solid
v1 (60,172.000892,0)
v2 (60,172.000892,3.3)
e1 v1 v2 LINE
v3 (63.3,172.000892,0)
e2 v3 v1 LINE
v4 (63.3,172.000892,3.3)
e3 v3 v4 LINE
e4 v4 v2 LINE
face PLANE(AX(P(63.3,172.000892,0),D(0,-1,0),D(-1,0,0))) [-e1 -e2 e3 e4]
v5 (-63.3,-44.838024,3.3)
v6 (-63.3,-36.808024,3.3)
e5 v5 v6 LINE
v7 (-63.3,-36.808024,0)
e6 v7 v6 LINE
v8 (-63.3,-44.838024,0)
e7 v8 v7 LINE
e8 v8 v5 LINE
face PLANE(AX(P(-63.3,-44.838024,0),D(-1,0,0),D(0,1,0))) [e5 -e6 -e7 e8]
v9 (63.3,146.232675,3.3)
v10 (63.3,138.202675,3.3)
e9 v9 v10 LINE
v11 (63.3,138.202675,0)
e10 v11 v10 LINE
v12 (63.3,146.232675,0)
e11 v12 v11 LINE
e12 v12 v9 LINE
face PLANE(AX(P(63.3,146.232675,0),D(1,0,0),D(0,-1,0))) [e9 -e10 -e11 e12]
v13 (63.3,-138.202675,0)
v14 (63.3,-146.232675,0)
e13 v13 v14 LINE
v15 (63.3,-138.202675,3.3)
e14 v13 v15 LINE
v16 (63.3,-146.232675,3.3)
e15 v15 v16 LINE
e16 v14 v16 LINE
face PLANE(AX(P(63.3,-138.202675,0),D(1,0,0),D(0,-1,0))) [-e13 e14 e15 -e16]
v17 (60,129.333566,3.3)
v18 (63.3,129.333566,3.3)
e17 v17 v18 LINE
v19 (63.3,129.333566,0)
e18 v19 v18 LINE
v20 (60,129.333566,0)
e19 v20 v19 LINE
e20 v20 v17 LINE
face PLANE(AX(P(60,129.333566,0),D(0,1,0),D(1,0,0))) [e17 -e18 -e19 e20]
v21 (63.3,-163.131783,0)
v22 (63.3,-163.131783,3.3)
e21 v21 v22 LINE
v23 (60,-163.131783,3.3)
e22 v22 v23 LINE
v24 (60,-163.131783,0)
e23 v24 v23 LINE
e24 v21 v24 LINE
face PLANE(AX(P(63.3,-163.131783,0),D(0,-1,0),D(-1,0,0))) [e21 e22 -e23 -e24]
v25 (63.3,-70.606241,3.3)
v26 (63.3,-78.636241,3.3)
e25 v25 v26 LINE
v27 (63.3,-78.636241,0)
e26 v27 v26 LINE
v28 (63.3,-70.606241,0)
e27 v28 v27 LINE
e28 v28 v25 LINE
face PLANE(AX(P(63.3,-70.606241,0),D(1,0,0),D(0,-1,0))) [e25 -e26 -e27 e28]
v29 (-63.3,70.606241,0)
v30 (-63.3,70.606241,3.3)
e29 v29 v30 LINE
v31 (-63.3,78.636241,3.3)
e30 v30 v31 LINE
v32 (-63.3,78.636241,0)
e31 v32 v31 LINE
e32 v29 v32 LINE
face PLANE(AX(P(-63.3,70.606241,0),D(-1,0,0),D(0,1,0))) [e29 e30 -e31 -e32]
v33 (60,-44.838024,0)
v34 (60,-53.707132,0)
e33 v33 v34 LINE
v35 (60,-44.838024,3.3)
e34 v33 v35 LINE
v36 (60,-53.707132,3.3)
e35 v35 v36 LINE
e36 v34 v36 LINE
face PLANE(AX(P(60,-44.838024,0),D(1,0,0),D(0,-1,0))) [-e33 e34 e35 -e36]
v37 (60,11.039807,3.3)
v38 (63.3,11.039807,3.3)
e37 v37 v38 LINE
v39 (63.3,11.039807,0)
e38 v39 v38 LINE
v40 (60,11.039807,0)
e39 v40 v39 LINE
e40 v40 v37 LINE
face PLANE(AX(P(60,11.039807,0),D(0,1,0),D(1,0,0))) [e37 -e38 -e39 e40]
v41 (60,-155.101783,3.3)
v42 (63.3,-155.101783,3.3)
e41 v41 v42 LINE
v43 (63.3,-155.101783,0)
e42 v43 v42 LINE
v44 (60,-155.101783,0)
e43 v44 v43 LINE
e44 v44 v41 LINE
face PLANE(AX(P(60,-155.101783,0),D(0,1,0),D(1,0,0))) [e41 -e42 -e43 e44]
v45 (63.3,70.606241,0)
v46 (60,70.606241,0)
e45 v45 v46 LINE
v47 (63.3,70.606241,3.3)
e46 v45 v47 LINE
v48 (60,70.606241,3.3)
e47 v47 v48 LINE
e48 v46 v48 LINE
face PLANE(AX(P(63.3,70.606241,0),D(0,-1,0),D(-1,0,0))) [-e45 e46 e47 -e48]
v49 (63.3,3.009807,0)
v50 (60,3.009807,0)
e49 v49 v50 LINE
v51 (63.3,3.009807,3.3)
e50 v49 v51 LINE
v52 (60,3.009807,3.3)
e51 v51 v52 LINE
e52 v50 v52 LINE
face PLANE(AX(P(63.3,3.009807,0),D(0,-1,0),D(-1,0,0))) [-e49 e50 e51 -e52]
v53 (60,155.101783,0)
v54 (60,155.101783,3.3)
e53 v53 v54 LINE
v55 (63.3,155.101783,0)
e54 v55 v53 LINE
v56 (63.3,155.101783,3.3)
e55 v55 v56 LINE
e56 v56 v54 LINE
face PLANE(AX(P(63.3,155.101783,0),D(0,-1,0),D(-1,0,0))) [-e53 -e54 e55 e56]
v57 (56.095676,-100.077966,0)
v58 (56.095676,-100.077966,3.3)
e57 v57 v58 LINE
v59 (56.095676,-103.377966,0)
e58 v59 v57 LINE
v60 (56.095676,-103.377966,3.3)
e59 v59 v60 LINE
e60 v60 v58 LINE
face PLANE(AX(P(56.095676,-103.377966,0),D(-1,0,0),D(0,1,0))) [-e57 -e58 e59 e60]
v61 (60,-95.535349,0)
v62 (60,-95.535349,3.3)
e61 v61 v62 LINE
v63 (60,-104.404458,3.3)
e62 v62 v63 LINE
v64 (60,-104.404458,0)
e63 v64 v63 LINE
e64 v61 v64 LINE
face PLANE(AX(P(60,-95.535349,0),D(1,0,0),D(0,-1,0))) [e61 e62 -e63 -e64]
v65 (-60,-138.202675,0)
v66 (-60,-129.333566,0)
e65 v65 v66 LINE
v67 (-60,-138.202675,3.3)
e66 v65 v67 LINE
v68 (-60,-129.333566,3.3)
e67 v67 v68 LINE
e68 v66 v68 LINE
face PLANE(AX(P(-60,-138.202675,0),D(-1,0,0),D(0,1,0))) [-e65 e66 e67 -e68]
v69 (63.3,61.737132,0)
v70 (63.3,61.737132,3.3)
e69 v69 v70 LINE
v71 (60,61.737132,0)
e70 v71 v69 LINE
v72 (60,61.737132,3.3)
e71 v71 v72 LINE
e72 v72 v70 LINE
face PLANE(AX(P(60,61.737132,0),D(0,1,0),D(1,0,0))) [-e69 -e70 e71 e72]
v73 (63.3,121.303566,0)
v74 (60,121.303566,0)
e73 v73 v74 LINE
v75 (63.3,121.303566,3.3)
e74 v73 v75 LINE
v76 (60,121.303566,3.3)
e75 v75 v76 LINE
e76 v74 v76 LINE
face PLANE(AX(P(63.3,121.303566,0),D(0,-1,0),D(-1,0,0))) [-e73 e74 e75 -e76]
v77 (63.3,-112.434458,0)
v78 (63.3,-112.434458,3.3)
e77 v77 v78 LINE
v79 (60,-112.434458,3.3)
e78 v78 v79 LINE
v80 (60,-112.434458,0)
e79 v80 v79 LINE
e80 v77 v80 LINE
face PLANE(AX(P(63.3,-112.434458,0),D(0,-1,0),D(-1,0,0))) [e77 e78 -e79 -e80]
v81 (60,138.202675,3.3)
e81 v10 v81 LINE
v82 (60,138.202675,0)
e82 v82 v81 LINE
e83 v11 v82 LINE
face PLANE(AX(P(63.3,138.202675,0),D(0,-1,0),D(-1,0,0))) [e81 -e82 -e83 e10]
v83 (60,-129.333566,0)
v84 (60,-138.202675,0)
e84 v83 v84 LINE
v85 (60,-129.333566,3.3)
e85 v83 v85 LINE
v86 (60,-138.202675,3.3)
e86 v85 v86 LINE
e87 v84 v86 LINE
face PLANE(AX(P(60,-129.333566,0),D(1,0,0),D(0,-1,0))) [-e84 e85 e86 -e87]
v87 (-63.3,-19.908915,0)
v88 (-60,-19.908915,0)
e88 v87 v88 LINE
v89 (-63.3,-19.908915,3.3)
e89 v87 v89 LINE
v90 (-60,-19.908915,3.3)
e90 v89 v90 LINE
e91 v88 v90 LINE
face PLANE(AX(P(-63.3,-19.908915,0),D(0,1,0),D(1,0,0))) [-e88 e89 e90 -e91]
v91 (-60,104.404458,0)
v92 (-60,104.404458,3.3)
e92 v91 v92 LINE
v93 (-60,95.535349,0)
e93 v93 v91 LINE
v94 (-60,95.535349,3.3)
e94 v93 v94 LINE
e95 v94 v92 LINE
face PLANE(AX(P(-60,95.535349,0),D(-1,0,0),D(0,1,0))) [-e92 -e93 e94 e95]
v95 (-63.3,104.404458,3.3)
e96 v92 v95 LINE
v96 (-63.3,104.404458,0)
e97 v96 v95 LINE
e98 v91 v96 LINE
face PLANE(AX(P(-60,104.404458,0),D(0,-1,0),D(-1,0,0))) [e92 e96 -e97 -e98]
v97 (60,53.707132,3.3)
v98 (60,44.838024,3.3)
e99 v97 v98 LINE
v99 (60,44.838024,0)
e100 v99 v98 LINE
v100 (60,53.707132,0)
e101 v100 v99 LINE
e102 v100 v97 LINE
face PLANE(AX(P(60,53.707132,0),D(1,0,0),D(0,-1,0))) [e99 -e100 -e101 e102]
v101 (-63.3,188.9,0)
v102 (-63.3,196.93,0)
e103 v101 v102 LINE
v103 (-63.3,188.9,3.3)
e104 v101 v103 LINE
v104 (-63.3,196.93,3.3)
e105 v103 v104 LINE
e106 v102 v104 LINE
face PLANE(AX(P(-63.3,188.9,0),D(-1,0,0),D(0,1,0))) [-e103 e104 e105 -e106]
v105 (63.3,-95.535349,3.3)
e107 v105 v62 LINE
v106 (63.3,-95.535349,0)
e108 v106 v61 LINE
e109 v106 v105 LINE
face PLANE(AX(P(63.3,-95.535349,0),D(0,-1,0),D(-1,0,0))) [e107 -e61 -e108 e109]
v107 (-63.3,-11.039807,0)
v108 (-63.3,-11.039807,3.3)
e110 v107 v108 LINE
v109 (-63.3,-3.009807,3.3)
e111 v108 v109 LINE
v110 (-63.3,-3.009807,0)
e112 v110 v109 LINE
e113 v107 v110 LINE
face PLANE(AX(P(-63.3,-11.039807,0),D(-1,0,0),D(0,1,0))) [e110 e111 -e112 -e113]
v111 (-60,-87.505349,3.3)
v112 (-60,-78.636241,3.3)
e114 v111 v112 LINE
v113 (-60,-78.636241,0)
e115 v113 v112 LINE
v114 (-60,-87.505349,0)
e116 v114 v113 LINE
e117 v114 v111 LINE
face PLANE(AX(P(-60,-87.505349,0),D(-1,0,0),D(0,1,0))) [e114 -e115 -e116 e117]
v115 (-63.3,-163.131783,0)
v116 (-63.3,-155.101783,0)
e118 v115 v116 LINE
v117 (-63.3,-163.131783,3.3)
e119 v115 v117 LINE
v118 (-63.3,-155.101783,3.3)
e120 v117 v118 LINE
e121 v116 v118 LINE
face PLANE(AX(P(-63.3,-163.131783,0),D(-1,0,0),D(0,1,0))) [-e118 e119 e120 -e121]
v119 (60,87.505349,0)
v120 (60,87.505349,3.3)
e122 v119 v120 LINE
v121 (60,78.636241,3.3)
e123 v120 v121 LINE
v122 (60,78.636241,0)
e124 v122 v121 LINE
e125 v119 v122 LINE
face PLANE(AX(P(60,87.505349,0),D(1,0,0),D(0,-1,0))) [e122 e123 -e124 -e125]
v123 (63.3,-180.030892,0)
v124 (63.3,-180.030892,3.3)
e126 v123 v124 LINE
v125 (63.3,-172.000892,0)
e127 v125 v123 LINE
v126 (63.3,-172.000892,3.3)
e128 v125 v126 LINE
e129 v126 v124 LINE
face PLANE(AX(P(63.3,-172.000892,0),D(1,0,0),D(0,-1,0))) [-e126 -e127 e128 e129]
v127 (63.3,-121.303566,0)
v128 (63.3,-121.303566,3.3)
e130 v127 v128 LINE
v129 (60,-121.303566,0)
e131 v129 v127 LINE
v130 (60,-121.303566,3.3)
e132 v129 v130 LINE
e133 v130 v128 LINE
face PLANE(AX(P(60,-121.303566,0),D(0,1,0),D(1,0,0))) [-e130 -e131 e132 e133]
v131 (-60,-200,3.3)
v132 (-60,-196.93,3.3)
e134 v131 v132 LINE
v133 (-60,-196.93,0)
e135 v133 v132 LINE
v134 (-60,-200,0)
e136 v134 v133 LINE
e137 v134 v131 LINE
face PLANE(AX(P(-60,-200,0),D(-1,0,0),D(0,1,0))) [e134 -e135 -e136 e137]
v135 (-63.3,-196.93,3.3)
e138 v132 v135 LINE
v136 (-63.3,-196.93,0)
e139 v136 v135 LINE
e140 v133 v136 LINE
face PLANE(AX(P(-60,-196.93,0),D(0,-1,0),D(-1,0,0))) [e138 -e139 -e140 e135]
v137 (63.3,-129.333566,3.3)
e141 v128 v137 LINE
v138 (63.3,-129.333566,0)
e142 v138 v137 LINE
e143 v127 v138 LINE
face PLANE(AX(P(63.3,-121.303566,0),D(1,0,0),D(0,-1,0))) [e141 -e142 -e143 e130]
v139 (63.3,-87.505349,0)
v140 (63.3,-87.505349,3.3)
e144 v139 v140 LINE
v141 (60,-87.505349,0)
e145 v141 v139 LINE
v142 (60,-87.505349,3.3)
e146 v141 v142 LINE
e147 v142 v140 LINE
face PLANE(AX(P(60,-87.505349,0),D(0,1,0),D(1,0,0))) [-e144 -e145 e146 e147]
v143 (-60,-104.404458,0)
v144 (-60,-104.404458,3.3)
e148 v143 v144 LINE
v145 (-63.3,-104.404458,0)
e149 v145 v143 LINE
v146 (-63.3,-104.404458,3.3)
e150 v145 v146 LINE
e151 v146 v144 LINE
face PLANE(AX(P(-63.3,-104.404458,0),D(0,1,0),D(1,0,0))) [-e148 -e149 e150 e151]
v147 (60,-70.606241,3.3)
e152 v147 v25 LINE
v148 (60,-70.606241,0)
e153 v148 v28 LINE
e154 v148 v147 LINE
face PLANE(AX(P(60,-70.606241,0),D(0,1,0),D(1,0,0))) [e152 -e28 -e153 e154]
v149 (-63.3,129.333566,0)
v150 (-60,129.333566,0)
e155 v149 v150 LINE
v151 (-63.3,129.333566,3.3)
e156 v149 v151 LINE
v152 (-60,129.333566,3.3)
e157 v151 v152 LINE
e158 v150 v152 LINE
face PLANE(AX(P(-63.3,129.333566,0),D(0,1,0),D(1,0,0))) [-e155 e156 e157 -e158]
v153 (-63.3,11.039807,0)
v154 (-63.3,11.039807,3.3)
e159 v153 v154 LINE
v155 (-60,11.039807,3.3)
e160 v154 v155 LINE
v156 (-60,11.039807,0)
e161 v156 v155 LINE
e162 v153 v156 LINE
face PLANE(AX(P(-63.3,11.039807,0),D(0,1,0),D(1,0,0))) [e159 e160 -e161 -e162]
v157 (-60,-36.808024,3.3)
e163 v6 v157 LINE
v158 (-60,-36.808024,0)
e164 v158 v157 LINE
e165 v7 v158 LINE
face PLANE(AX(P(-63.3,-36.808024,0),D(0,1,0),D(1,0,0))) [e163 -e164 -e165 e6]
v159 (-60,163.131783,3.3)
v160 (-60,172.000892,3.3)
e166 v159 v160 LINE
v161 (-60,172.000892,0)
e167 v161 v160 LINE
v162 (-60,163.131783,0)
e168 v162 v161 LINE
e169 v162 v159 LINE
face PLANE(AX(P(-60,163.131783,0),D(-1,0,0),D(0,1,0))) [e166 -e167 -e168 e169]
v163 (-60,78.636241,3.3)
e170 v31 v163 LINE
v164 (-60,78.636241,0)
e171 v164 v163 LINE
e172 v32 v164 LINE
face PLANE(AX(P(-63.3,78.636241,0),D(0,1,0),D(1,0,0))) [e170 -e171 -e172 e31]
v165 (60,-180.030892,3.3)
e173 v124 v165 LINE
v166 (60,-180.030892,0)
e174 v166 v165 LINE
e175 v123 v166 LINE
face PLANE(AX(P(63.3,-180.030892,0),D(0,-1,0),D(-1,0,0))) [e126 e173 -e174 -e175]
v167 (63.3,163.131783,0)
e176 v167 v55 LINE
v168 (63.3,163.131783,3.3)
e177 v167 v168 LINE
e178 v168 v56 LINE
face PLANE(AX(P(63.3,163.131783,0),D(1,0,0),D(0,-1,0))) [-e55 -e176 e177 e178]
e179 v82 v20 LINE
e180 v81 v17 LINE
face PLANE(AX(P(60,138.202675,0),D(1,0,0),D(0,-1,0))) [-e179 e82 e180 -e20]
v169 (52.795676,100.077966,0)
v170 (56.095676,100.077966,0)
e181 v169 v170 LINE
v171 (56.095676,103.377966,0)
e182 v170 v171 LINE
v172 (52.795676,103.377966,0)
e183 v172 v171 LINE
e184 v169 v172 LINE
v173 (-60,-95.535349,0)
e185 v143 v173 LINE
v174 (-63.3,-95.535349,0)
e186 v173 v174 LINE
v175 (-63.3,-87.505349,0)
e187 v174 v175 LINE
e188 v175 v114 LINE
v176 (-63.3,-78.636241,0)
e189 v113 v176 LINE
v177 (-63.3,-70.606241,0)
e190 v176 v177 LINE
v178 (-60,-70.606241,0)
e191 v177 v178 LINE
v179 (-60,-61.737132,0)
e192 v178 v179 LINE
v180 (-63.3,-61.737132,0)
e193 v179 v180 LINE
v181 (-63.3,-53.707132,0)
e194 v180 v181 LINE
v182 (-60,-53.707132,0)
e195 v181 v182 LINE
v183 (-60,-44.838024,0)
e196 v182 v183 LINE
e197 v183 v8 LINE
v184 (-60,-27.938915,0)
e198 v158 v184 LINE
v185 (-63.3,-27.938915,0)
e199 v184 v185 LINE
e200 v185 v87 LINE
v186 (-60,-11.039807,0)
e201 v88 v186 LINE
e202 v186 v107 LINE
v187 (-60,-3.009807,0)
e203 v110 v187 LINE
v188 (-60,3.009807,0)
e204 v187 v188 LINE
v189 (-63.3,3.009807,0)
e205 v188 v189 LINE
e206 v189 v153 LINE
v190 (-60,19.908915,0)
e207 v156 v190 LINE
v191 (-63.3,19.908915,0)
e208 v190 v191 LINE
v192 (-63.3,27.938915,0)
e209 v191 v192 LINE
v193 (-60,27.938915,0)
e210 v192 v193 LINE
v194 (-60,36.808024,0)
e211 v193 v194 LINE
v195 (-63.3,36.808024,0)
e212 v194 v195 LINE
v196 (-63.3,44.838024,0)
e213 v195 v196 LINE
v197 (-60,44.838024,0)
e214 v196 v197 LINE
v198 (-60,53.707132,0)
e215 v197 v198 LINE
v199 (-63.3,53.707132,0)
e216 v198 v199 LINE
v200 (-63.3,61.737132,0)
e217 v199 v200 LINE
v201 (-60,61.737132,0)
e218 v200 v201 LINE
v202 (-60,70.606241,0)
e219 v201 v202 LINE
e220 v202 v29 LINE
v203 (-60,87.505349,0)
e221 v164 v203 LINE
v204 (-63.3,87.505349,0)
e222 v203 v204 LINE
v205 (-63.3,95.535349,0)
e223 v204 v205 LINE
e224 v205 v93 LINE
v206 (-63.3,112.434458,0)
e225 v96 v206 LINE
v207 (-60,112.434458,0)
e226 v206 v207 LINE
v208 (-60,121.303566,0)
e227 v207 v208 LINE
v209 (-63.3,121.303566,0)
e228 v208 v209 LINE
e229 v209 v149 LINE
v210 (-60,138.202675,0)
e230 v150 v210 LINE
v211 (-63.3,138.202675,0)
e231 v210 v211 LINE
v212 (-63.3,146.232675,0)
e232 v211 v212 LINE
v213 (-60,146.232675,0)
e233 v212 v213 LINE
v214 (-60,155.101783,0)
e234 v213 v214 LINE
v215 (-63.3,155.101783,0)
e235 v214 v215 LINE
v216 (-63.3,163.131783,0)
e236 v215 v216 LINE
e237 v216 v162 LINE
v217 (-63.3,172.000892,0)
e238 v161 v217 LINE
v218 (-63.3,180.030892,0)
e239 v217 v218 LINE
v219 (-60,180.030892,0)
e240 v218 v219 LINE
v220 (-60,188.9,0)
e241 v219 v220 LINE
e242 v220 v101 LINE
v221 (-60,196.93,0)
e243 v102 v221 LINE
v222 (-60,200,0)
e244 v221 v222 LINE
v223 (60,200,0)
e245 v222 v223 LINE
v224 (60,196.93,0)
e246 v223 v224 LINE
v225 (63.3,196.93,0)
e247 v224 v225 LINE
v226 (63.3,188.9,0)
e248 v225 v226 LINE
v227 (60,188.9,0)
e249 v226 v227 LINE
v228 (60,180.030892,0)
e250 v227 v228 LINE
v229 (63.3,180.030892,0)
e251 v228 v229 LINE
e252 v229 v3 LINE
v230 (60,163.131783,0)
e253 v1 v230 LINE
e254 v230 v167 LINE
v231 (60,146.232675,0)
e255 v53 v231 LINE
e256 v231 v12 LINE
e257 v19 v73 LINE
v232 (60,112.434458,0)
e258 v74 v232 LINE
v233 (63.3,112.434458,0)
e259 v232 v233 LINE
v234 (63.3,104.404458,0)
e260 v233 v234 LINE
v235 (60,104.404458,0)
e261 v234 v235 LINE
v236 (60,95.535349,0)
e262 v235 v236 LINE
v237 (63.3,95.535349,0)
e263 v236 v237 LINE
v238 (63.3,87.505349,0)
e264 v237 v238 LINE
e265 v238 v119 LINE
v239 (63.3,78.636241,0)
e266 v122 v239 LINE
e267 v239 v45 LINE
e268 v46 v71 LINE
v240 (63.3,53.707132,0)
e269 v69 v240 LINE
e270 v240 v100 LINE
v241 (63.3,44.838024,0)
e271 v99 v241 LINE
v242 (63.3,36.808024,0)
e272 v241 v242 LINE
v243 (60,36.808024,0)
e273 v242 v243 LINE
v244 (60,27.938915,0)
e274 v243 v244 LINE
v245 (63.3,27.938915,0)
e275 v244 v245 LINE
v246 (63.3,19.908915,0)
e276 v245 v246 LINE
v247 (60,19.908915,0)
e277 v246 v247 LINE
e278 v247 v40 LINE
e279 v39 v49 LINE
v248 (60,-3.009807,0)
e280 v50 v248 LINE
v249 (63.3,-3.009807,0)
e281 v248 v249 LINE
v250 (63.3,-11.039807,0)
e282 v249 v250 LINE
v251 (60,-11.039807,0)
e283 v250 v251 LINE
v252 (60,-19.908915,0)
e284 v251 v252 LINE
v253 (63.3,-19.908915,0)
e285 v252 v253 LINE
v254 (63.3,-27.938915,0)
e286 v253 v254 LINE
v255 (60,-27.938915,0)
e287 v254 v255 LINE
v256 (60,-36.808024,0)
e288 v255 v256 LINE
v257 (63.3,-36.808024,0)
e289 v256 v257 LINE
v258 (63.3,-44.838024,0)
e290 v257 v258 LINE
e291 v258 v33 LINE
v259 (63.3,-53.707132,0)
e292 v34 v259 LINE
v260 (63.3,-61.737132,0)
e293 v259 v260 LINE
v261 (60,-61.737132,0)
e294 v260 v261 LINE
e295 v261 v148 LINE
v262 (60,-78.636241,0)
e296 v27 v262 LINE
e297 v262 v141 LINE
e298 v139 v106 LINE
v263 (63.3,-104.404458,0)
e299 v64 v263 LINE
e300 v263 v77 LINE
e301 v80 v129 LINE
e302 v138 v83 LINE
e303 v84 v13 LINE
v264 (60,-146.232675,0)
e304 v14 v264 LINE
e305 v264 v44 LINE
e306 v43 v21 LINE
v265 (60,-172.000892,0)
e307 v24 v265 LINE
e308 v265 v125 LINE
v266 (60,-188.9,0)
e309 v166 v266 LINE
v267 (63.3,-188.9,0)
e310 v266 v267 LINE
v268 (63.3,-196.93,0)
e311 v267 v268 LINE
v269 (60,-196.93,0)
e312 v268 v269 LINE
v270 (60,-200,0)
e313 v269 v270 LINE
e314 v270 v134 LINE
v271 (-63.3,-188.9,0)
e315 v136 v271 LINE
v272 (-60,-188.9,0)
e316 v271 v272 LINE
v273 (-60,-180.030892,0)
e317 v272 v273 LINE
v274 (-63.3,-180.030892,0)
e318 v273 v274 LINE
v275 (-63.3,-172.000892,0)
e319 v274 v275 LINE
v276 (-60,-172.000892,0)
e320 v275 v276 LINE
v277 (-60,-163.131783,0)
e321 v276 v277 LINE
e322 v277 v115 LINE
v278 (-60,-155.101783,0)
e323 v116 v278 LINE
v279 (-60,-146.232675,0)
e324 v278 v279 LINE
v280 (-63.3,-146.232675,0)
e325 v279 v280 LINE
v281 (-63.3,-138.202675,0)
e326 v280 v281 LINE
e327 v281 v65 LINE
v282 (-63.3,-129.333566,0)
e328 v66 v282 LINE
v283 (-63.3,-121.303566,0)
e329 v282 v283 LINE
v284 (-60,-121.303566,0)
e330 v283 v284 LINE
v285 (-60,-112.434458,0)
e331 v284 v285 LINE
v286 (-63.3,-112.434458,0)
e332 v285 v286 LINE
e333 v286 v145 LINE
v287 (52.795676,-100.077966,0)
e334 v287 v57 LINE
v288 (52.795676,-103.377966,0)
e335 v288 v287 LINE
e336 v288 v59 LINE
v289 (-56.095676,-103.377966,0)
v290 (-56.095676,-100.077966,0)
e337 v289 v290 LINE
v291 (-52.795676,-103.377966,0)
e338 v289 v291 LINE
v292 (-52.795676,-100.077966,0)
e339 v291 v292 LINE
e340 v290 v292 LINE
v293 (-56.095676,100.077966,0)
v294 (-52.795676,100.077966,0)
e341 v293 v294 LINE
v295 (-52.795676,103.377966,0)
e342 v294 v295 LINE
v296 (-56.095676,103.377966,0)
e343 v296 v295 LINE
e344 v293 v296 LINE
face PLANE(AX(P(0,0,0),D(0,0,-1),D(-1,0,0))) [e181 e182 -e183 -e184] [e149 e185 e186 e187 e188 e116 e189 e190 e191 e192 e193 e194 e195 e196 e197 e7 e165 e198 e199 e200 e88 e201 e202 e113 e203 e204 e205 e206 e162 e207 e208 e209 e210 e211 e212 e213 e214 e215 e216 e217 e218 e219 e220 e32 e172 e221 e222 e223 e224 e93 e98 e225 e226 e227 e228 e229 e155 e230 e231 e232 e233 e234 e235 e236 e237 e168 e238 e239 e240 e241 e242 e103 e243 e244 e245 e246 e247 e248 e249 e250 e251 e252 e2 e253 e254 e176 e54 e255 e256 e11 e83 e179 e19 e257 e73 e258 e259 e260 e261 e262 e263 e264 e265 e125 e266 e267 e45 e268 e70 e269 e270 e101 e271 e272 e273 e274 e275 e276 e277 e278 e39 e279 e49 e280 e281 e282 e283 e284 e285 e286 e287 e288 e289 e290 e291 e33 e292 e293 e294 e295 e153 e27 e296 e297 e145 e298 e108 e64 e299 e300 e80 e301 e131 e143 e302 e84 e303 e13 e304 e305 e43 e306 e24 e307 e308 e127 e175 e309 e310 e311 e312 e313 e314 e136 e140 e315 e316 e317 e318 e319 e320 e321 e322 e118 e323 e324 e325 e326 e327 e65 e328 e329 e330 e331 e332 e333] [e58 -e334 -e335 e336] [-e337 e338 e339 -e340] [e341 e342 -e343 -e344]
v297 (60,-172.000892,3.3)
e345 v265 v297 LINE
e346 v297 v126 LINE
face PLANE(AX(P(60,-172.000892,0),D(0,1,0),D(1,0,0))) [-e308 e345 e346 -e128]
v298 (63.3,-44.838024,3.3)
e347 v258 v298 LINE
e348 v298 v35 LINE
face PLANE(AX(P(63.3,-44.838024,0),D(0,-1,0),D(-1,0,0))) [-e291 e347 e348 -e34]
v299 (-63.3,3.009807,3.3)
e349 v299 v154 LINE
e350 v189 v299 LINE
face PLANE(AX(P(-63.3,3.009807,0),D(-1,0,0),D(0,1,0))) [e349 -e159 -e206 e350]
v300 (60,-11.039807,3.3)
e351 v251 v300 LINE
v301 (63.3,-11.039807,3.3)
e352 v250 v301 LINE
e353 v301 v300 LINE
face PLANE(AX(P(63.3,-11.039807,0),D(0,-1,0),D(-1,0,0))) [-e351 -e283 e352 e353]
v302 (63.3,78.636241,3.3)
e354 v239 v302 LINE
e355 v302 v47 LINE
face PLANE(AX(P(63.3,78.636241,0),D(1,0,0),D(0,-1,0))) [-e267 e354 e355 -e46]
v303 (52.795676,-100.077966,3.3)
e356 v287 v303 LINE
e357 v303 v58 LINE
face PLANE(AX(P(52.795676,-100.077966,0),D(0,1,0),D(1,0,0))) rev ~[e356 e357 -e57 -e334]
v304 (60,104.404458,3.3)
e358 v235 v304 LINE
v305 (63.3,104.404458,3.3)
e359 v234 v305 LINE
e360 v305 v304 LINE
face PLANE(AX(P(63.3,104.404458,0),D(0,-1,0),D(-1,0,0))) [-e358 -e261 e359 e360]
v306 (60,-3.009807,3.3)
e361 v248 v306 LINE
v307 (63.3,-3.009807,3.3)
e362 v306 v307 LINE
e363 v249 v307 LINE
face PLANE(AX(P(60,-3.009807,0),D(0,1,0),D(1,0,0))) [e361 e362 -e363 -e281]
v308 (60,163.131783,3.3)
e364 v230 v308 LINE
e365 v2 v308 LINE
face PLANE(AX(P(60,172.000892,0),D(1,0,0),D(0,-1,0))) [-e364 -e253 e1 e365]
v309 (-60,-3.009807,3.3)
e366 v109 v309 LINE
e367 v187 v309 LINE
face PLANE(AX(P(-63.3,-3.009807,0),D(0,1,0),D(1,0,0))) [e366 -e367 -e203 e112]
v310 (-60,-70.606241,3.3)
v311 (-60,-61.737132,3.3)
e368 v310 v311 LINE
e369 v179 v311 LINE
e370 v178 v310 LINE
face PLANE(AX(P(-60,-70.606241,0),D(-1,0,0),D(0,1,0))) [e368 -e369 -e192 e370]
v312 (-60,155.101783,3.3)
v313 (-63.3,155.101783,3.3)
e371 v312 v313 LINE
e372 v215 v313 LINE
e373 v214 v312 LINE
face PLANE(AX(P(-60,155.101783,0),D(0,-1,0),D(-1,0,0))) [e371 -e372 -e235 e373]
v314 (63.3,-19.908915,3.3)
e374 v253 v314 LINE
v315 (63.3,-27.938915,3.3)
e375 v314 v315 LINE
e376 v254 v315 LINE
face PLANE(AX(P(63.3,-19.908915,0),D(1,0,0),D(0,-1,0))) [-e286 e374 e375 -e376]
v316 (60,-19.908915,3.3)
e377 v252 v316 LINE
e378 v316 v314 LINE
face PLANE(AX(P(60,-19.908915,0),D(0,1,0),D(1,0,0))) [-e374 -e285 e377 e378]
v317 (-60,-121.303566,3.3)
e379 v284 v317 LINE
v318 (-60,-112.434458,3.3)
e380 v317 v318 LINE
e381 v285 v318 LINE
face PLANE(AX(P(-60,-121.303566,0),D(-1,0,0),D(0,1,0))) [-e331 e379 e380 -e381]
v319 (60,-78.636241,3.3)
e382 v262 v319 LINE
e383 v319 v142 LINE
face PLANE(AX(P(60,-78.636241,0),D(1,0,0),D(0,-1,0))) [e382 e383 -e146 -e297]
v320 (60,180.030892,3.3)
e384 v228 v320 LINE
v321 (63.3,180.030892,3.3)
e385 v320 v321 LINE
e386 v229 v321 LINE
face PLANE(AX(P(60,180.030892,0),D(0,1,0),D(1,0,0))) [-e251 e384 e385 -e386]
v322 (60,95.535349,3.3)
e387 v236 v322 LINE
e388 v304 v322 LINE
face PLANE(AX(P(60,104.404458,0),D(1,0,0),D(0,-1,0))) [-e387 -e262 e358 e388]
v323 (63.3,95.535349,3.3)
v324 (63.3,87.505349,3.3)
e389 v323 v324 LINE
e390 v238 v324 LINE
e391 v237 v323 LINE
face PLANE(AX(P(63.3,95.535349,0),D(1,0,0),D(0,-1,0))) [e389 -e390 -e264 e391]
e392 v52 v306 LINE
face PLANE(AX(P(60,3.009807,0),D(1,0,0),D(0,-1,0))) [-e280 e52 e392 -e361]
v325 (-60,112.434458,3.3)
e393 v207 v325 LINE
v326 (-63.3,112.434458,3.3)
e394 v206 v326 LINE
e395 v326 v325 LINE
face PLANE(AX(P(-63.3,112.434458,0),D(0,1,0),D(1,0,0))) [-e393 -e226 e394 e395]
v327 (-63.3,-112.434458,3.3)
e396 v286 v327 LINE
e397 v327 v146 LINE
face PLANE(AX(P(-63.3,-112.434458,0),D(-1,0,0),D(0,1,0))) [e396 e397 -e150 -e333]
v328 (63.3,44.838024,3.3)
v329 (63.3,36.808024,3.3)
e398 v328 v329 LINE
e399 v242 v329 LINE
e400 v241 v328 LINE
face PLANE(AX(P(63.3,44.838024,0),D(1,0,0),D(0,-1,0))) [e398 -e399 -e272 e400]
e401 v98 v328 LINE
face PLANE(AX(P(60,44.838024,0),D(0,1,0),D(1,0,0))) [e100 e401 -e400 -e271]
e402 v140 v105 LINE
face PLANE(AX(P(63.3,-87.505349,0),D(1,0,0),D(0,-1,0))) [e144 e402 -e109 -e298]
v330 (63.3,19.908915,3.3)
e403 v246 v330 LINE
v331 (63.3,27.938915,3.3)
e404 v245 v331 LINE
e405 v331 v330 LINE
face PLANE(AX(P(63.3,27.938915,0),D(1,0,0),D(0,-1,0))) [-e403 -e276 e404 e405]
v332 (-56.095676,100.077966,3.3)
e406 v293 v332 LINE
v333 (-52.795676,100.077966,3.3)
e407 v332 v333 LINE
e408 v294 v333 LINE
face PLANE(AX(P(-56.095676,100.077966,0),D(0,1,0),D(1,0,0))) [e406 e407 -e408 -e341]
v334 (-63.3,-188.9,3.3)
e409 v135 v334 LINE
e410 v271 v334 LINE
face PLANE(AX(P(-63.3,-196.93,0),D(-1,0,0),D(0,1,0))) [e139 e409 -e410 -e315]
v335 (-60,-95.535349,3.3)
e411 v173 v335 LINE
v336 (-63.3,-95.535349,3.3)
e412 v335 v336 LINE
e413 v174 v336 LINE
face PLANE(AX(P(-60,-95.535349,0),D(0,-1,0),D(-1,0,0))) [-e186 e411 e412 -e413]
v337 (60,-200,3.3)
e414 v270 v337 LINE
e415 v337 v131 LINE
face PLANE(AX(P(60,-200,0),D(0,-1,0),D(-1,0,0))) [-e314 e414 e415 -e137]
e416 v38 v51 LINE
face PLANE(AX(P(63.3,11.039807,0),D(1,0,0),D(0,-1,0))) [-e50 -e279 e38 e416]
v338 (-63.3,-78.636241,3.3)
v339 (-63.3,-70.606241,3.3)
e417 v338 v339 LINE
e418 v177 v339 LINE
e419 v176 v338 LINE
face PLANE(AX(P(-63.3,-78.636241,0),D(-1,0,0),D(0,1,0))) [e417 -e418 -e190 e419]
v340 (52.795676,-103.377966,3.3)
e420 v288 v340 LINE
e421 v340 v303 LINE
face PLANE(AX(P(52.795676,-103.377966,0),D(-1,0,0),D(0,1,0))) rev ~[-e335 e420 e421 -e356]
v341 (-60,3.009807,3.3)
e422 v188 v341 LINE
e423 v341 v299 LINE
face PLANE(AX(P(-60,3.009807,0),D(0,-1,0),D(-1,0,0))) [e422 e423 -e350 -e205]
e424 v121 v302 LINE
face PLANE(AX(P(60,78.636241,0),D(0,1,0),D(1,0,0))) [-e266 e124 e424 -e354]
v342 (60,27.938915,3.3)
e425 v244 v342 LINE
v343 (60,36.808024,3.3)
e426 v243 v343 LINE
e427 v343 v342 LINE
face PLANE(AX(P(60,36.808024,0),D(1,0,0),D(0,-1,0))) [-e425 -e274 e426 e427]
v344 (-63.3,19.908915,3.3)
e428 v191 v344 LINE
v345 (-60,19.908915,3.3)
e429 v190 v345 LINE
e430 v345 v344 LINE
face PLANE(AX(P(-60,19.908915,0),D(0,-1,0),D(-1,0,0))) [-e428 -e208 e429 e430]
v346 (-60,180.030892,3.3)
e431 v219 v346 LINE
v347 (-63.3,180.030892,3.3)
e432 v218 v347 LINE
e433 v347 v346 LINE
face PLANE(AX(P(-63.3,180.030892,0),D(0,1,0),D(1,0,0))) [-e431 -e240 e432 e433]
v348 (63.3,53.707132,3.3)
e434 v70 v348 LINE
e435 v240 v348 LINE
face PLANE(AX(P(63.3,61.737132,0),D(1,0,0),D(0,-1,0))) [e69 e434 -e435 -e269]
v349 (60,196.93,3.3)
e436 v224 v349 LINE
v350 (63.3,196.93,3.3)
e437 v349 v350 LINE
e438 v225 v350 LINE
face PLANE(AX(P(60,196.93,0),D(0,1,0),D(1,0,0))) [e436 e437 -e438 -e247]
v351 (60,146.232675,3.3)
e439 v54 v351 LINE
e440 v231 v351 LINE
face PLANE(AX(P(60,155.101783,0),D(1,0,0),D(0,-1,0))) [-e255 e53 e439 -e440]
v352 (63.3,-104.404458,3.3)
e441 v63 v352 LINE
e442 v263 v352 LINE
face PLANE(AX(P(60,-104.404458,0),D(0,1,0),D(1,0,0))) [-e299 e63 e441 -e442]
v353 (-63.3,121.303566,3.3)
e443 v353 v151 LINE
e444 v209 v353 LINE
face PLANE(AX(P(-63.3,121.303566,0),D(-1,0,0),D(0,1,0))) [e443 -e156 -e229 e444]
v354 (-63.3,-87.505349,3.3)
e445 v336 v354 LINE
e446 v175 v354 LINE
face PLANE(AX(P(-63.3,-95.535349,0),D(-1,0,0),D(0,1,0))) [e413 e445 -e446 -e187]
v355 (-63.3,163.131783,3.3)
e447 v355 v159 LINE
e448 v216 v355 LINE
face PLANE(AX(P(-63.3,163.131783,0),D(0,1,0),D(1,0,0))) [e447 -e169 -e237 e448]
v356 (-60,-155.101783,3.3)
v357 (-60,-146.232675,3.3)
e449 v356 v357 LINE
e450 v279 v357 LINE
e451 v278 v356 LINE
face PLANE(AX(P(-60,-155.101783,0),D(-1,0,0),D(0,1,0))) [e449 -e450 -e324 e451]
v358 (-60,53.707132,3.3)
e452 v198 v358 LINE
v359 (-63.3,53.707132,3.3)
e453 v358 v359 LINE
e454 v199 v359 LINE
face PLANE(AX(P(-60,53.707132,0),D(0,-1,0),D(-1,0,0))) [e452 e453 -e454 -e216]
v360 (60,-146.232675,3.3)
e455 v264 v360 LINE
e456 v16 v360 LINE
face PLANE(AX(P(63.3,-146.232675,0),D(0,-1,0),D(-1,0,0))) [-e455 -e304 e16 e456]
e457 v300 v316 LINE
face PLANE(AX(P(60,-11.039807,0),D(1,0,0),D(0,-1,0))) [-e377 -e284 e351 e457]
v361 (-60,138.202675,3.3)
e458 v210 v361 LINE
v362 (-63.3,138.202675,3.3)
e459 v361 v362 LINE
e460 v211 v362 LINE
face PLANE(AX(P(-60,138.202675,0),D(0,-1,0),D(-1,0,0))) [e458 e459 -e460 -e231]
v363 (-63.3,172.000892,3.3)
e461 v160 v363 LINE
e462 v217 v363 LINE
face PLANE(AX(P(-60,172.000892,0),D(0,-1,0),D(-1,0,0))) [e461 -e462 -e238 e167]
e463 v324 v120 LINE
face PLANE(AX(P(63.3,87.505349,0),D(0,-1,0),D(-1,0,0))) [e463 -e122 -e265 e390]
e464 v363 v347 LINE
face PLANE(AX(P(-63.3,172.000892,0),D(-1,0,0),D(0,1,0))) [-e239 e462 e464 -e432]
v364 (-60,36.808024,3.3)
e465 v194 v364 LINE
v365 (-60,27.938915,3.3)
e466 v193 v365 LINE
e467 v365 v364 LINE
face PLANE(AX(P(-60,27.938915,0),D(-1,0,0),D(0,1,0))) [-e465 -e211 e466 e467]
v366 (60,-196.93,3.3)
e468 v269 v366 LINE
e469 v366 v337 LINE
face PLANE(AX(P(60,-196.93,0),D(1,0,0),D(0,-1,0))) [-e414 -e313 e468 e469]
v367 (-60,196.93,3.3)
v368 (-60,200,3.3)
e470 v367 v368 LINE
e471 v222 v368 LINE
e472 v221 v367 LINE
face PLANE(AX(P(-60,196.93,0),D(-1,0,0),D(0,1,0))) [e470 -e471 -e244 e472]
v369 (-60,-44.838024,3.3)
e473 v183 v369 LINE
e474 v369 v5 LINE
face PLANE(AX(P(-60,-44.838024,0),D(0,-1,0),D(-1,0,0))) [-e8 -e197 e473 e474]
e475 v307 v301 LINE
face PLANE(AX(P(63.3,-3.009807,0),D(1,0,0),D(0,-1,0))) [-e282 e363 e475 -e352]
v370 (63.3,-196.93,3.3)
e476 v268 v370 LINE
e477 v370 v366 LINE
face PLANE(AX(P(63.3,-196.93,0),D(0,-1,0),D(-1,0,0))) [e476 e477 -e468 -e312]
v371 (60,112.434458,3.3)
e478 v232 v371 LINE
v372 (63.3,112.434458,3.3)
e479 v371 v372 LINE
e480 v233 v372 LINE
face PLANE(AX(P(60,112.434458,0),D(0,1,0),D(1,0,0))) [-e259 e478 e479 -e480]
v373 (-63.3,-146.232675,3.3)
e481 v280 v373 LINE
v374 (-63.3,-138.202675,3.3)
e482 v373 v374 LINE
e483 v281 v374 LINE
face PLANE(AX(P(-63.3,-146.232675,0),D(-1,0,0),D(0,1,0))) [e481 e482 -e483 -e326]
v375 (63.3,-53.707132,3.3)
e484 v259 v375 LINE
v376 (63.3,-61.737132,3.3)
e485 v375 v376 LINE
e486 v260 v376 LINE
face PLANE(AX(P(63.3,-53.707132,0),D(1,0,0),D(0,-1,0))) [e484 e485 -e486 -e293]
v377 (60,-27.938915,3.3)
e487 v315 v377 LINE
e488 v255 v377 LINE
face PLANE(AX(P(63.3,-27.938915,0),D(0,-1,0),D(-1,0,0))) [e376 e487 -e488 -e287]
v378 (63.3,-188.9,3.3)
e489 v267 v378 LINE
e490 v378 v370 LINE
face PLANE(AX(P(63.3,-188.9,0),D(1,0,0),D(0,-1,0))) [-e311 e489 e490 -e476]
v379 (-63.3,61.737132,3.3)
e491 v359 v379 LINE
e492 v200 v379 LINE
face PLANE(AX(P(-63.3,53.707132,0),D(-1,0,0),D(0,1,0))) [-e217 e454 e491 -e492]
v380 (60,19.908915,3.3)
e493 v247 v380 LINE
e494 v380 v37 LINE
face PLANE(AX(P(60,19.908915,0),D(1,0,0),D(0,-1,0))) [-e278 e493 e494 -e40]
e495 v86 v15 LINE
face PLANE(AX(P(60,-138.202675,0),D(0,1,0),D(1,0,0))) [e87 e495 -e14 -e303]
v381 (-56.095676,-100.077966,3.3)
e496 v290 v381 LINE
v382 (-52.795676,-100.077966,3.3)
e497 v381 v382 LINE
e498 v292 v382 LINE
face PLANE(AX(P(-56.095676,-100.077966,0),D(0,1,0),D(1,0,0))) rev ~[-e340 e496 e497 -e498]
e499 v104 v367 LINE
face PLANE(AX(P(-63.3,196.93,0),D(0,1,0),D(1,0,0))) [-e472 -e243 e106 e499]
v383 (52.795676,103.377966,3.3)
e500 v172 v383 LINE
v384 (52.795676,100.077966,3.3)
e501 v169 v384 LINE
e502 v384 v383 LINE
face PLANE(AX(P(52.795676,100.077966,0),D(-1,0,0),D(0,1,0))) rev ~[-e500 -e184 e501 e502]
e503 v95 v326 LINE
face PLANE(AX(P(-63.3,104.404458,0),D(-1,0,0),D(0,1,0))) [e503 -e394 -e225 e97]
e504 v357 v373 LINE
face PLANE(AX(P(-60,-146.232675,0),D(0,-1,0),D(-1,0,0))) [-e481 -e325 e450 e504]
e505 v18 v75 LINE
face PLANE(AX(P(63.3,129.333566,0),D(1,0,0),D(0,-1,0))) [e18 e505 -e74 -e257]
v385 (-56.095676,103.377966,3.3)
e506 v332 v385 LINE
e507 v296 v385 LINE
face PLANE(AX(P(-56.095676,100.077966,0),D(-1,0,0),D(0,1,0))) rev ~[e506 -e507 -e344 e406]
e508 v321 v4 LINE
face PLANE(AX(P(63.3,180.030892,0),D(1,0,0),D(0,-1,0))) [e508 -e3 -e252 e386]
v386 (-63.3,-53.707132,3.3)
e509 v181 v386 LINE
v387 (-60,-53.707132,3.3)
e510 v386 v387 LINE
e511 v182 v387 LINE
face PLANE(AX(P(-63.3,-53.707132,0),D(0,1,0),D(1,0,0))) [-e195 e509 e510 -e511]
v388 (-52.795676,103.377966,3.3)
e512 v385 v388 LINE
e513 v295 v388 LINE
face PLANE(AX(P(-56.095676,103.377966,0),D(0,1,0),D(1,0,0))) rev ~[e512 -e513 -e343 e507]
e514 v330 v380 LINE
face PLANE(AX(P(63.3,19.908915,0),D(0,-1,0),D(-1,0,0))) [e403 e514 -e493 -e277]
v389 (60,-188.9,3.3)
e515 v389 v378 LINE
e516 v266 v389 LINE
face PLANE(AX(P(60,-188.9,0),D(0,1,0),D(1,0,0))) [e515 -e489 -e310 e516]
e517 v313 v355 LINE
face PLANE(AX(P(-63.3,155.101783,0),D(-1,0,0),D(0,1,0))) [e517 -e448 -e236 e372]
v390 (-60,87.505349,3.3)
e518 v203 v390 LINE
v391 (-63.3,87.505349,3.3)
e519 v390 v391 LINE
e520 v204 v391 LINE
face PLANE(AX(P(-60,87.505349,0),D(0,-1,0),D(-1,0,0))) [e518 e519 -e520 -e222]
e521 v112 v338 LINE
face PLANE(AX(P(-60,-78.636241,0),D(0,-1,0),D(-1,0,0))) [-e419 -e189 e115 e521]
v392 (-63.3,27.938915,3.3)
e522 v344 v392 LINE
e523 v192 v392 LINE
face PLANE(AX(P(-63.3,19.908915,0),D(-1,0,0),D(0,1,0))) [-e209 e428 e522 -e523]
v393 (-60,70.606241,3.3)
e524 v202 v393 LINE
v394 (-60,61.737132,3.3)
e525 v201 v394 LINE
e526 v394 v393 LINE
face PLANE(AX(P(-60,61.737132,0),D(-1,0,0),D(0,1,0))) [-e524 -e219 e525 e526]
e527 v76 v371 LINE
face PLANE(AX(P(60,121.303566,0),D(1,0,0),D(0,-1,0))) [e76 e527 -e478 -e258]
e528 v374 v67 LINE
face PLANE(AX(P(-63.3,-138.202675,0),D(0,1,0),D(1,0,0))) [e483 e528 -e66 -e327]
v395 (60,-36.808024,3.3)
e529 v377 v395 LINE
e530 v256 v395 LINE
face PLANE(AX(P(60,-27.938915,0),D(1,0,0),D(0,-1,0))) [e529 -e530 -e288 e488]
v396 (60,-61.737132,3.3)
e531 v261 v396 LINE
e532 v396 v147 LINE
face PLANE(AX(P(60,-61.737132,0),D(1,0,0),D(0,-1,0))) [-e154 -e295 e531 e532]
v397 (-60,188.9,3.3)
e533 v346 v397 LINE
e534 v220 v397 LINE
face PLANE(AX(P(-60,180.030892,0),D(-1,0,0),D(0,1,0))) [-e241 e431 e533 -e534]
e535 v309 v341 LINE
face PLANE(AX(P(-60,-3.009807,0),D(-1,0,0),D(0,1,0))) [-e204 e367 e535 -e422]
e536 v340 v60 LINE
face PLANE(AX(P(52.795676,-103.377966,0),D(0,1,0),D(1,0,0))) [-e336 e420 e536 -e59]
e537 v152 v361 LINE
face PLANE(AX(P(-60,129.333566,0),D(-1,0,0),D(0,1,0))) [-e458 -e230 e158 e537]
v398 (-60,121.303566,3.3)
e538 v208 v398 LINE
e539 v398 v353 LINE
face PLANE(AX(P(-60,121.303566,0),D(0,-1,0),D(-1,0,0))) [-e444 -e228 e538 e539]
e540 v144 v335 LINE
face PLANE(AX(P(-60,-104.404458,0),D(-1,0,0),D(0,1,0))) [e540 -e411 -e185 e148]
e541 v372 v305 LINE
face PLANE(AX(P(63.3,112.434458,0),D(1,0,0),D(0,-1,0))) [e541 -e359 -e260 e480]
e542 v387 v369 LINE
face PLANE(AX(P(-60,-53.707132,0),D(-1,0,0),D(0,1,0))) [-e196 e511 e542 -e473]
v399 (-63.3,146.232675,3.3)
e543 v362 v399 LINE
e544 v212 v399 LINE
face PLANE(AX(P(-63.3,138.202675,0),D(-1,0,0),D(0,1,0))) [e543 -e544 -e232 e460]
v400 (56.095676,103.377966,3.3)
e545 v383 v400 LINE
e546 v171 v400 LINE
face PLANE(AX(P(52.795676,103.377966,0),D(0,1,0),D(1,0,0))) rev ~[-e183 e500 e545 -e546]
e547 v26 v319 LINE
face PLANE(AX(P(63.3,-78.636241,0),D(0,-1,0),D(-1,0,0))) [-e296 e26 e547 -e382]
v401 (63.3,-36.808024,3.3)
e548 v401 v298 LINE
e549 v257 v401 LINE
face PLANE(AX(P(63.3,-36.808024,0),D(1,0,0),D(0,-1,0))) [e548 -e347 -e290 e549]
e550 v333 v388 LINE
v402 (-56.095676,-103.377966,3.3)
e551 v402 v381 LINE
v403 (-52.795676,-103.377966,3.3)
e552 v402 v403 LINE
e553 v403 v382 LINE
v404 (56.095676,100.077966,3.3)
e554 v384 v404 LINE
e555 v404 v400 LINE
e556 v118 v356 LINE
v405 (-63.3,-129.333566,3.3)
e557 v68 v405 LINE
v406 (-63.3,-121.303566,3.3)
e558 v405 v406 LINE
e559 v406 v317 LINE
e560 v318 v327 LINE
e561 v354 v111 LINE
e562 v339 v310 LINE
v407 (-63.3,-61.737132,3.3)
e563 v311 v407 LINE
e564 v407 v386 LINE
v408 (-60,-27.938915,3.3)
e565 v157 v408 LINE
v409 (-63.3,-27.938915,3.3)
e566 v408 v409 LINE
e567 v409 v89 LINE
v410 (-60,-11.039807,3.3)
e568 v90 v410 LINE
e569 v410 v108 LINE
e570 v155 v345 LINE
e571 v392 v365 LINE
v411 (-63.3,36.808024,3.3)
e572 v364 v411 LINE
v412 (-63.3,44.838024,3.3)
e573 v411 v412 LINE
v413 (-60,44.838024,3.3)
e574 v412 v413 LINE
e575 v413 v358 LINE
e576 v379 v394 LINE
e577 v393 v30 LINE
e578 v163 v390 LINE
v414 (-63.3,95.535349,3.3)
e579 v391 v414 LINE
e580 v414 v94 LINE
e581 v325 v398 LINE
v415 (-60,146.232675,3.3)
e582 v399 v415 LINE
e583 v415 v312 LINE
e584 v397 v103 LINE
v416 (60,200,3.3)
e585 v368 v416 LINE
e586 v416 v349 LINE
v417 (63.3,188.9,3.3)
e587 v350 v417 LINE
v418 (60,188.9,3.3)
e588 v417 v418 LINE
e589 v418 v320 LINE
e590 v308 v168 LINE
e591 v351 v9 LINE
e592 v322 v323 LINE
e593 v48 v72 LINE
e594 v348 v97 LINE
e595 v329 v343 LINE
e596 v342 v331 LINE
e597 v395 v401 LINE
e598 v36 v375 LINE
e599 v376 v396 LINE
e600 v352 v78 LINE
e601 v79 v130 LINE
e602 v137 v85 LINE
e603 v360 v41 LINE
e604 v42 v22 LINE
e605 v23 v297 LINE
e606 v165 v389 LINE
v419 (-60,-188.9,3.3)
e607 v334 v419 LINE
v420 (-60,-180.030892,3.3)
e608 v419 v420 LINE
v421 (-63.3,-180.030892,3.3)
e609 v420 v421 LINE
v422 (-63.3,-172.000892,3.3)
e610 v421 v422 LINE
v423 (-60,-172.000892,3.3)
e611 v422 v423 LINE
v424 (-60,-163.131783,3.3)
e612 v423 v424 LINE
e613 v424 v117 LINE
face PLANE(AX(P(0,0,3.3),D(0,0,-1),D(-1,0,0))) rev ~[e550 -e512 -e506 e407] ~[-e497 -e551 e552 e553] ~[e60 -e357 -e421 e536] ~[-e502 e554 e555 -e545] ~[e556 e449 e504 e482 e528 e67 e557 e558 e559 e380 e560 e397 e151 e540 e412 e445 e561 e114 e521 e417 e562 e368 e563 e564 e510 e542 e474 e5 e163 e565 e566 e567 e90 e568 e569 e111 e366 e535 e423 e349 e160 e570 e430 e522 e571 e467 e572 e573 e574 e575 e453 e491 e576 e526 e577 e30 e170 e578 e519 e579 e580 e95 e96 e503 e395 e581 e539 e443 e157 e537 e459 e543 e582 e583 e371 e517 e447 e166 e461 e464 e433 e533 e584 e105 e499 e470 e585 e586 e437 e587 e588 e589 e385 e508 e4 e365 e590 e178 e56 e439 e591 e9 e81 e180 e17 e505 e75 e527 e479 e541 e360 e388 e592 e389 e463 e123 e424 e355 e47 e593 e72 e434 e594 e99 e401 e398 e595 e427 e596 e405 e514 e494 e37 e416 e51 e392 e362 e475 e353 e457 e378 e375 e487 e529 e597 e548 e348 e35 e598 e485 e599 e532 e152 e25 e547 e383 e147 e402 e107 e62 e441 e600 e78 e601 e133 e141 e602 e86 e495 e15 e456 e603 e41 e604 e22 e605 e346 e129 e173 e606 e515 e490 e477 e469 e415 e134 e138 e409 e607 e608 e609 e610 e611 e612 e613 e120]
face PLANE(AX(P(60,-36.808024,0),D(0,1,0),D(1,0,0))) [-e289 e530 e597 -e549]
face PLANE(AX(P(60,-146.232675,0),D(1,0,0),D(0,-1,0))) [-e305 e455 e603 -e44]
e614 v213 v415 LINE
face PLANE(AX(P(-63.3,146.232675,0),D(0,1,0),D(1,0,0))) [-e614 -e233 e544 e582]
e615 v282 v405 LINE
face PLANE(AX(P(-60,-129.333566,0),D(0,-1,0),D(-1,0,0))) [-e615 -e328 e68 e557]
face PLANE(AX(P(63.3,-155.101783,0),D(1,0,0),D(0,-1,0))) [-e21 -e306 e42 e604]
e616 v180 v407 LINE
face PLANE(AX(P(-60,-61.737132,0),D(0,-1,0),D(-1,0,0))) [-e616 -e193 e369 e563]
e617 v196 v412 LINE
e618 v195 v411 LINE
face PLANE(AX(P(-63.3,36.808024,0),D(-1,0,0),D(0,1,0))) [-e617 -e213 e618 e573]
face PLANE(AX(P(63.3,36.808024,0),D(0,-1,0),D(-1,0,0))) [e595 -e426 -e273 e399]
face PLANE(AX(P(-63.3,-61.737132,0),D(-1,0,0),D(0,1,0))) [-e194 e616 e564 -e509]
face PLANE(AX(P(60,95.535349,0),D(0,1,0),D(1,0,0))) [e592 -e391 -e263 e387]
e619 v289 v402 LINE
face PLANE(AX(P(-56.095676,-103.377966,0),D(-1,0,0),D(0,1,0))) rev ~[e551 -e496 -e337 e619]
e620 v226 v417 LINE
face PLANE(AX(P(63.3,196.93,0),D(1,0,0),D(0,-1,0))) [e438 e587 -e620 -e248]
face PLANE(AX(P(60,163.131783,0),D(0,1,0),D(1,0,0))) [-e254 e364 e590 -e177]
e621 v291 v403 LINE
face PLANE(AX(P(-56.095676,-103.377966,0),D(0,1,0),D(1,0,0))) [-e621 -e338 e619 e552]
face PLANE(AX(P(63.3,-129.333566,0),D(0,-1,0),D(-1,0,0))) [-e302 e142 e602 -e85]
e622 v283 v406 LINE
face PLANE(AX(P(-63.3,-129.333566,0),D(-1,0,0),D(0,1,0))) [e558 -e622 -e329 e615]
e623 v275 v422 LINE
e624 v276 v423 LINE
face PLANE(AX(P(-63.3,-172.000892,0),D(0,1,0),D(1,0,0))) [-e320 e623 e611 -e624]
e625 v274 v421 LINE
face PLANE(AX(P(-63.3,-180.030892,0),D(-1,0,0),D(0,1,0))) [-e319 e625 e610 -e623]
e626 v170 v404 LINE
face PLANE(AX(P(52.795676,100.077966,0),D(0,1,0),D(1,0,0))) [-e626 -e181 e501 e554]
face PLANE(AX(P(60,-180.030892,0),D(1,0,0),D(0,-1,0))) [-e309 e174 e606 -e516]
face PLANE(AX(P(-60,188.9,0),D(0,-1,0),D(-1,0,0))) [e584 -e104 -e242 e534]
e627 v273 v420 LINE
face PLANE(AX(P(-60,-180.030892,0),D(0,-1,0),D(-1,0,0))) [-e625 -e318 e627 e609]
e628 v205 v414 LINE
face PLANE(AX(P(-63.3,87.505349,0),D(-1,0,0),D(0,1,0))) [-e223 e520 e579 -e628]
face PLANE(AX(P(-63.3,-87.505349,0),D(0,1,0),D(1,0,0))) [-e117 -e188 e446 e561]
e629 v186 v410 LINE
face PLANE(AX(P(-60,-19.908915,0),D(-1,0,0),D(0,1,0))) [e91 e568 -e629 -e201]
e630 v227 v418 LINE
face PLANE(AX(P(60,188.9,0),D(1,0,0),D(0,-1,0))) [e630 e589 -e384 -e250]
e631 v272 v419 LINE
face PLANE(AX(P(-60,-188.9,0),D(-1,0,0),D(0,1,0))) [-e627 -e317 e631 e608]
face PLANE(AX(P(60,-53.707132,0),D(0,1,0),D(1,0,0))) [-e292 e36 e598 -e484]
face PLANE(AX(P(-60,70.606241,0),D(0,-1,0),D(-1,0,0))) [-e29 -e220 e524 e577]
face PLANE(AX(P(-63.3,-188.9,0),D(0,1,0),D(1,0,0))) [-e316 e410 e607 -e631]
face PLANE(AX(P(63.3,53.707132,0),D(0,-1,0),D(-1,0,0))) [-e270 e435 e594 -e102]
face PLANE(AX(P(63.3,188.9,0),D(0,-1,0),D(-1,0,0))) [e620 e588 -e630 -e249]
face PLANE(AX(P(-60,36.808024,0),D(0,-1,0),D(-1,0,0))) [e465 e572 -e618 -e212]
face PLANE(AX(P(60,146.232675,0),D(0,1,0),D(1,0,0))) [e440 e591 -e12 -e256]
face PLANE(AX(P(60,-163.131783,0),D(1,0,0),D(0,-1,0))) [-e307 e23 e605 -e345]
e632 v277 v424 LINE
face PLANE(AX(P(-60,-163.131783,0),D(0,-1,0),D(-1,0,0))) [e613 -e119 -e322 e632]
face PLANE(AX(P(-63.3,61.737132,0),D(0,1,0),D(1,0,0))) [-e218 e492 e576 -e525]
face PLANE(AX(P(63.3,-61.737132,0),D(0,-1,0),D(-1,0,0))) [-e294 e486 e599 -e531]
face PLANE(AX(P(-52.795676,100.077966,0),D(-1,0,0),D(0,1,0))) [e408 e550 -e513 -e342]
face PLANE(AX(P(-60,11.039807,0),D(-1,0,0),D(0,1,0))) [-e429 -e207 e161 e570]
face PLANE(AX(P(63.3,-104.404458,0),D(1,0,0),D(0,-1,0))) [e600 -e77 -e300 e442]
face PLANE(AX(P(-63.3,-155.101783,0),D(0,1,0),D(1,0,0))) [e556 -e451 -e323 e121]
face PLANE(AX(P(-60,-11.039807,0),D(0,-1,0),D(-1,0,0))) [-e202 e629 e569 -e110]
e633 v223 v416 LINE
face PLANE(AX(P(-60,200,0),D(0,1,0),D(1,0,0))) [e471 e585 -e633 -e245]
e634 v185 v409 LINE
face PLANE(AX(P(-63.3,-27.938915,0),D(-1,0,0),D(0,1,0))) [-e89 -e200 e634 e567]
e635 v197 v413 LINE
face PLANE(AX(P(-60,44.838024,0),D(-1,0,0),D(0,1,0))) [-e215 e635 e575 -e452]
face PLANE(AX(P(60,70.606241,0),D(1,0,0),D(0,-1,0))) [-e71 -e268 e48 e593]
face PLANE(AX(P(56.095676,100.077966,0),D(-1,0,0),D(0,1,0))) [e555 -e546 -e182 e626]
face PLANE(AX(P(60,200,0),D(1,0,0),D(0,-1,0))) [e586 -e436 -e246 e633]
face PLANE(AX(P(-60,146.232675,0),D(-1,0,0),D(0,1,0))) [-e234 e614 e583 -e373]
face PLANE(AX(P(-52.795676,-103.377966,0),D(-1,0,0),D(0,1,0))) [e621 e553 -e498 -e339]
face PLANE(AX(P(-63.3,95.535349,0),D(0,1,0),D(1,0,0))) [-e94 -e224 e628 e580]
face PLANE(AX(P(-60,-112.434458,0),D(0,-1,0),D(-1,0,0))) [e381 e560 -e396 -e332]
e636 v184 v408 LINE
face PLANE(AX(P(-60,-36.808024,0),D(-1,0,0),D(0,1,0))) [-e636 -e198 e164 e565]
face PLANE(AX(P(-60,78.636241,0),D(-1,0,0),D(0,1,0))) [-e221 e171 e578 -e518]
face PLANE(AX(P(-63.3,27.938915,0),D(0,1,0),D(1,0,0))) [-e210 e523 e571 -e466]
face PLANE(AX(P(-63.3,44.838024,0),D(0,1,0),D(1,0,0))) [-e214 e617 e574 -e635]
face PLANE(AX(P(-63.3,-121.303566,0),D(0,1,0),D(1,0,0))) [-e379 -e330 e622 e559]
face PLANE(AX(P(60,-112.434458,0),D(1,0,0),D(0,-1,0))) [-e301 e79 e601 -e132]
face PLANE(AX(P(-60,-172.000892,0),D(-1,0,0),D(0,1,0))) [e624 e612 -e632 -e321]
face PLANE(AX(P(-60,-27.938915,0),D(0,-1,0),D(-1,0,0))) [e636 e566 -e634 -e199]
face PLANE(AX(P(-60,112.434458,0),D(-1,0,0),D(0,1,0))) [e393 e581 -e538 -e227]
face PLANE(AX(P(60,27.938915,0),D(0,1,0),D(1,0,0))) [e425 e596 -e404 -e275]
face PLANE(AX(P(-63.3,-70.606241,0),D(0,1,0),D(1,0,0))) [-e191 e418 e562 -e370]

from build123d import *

# Parameters (mm, degrees)
CROQUIS1_W              = 3.3
CROQUIS1_H              = 3.3
SALIENTE_EXTRUIR1_DEPTH = 3.3


with BuildPart() as part:
    # Croquis1 → Saliente-Extruir1 (new body)
    with BuildSketch(Plane.XY):
        Polygon((63.3, 27.9389154), (60, 27.9389154), (60, 36.80802386), (63.3, 36.80802386), (63.3, 44.83802386), (60, 44.83802386), (60, 53.70713232), (63.3, 53.70713232), (63.3, 61.73713232), (60, 61.73713232), (60, 70.60624078), (63.3, 70.60624078), (63.3, 78.63624078), (60, 78.63624078), (60, 87.50534924), (63.3, 87.50534924), (63.3, 95.53534924), (60, 95.53534924), (60, 104.4044577), (63.3, 104.4044577), (63.3, 112.4344577), (60, 112.4344577), (60, 121.30356616), (63.3, 121.30356616), (63.3, 129.33356616), (60, 129.33356616), (60, 138.20267462), (63.3, 138.20267462), (63.3, 146.23267462), (60, 146.23267462), (60, 155.10178308), (63.3, 155.10178308), (63.3, 163.13178308), (60, 163.13178308), (60, 172.00089154), (63.3, 172.00089154), (63.3, 180.03089154), (60, 180.03089154), (60, 188.9), (63.3, 188.9), (63.3, 196.93), (60, 196.93), (60, 200), (-60, 200), (-60, 196.93), (-63.3, 196.93), (-63.3, 188.9), (-60, 188.9), (-60, 180.03089154), (-63.3, 180.03089154), (-63.3, 172.00089154), (-60, 172.00089154), (-60, 163.13178308), (-63.3, 163.13178308), (-63.3, 155.10178308), (-60, 155.10178308), (-60, 146.23267462), (-63.3, 146.23267462), (-63.3, 138.20267462), (-60, 138.20267462), (-60, 129.33356616), (-63.3, 129.33356616), (-63.3, 121.30356616), (-60, 121.30356616), (-60, 112.4344577), (-63.3, 112.4344577), (-63.3, 104.4044577), (-60, 104.4044577), (-60, 95.53534924), (-63.3, 95.53534924), (-63.3, 87.50534924), (-60, 87.50534924), (-60, 78.63624078), (-63.3, 78.63624078), (-63.3, 70.60624078), (-60, 70.60624078), (-60, 61.73713232), (-63.3, 61.73713232), (-63.3, 53.70713232), (-60, 53.70713232), (-60, 44.83802386), (-63.3, 44.83802386), (-63.3, 36.80802386), (-60, 36.80802386), (-60, 27.9389154), (-63.3, 27.9389154), (-63.3, 19.9089154), (-60, 19.9089154), (-60, 11.03980694), (-63.3, 11.03980694), (-63.3, 3.00980694), (-60, 3.00980694), (-60, -3.00980694), (-63.3, -3.00980694), (-63.3, -11.03980694), (-60, -11.03980694), (-60, -19.9089154), (-63.3, -19.9089154), (-63.3, -27.9389154), (-60, -27.9389154), (-60, -36.80802386), (-63.3, -36.80802386), (-63.3, -44.83802386), (-60, -44.83802386), (-60, -53.70713232), (-63.3, -53.70713232), (-63.3, -61.73713232), (-60, -61.73713232), (-60, -70.60624078), (-63.3, -70.60624078), (-63.3, -78.63624078), (-60, -78.63624078), (-60, -87.50534924), (-63.3, -87.50534924), (-63.3, -95.53534924), (-60, -95.53534924), (-60, -104.4044577), (-63.3, -104.4044577), (-63.3, -112.4344577), (-60, -112.4344577), (-60, -121.30356616), (-63.3, -121.30356616), (-63.3, -129.33356616), (-60, -129.33356616), (-60, -138.20267462), (-63.3, -138.20267462), (-63.3, -146.23267462), (-60, -146.23267462), (-60, -155.10178308), (-63.3, -155.10178308), (-63.3, -163.13178308), (-60, -163.13178308), (-60, -172.00089154), (-63.3, -172.00089154), (-63.3, -180.03089154), (-60, -180.03089154), (-60, -188.9), (-63.3, -188.9), (-63.3, -196.93), (-60, -196.93), (-60, -200), (60, -200), (60, -196.93), (63.3, -196.93), (63.3, -188.9), (60, -188.9), (60, -180.03089154), (63.3, -180.03089154), (63.3, -172.00089154), (60, -172.00089154), (60, -163.13178308), (63.3, -163.13178308), (63.3, -155.10178308), (60, -155.10178308), (60, -146.23267462), (63.3, -146.23267462), (63.3, -138.20267462), (60, -138.20267462), (60, -129.33356616), (63.3, -129.33356616), (63.3, -121.30356616), (60, -121.30356616), (60, -112.4344577), (63.3, -112.4344577), (63.3, -104.4044577), (60, -104.4044577), (60, -95.53534924), (63.3, -95.53534924), (63.3, -87.50534924), (60, -87.50534924), (60, -78.63624078), (63.3, -78.63624078), (63.3, -70.60624078), (60, -70.60624078), (60, -61.73713232), (63.3, -61.73713232), (63.3, -53.70713232), (60, -53.70713232), (60, -44.83802386), (63.3, -44.83802386), (63.3, -36.80802386), (60, -36.80802386), (60, -27.9389154), (63.3, -27.9389154), (63.3, -19.9089154), (60, -19.9089154), (60, -11.03980694), (63.3, -11.03980694), (63.3, -3.00980694), (60, -3.00980694), (60, 3.00980694), (63.3, 3.00980694), (63.3, 11.03980694), (60, 11.03980694), (60, 19.9089154), (63.3, 19.9089154), align=None)
        with Locations((-54.44567586, -101.72796576)):
            Rectangle(CROQUIS1_W, CROQUIS1_H, mode=Mode.SUBTRACT)
        with Locations((54.44567586, -101.72796576)):
            Rectangle(CROQUIS1_W, CROQUIS1_H, mode=Mode.SUBTRACT)
        with Locations((-54.44567586, 101.72796576)):
            Rectangle(CROQUIS1_W, CROQUIS1_H, mode=Mode.SUBTRACT)
        with Locations((54.44567586, 101.72796576)):
            Rectangle(CROQUIS1_W, CROQUIS1_H, mode=Mode.SUBTRACT)
    extrude(amount=SALIENTE_EXTRUIR1_DEPTH)


solid = part.part
